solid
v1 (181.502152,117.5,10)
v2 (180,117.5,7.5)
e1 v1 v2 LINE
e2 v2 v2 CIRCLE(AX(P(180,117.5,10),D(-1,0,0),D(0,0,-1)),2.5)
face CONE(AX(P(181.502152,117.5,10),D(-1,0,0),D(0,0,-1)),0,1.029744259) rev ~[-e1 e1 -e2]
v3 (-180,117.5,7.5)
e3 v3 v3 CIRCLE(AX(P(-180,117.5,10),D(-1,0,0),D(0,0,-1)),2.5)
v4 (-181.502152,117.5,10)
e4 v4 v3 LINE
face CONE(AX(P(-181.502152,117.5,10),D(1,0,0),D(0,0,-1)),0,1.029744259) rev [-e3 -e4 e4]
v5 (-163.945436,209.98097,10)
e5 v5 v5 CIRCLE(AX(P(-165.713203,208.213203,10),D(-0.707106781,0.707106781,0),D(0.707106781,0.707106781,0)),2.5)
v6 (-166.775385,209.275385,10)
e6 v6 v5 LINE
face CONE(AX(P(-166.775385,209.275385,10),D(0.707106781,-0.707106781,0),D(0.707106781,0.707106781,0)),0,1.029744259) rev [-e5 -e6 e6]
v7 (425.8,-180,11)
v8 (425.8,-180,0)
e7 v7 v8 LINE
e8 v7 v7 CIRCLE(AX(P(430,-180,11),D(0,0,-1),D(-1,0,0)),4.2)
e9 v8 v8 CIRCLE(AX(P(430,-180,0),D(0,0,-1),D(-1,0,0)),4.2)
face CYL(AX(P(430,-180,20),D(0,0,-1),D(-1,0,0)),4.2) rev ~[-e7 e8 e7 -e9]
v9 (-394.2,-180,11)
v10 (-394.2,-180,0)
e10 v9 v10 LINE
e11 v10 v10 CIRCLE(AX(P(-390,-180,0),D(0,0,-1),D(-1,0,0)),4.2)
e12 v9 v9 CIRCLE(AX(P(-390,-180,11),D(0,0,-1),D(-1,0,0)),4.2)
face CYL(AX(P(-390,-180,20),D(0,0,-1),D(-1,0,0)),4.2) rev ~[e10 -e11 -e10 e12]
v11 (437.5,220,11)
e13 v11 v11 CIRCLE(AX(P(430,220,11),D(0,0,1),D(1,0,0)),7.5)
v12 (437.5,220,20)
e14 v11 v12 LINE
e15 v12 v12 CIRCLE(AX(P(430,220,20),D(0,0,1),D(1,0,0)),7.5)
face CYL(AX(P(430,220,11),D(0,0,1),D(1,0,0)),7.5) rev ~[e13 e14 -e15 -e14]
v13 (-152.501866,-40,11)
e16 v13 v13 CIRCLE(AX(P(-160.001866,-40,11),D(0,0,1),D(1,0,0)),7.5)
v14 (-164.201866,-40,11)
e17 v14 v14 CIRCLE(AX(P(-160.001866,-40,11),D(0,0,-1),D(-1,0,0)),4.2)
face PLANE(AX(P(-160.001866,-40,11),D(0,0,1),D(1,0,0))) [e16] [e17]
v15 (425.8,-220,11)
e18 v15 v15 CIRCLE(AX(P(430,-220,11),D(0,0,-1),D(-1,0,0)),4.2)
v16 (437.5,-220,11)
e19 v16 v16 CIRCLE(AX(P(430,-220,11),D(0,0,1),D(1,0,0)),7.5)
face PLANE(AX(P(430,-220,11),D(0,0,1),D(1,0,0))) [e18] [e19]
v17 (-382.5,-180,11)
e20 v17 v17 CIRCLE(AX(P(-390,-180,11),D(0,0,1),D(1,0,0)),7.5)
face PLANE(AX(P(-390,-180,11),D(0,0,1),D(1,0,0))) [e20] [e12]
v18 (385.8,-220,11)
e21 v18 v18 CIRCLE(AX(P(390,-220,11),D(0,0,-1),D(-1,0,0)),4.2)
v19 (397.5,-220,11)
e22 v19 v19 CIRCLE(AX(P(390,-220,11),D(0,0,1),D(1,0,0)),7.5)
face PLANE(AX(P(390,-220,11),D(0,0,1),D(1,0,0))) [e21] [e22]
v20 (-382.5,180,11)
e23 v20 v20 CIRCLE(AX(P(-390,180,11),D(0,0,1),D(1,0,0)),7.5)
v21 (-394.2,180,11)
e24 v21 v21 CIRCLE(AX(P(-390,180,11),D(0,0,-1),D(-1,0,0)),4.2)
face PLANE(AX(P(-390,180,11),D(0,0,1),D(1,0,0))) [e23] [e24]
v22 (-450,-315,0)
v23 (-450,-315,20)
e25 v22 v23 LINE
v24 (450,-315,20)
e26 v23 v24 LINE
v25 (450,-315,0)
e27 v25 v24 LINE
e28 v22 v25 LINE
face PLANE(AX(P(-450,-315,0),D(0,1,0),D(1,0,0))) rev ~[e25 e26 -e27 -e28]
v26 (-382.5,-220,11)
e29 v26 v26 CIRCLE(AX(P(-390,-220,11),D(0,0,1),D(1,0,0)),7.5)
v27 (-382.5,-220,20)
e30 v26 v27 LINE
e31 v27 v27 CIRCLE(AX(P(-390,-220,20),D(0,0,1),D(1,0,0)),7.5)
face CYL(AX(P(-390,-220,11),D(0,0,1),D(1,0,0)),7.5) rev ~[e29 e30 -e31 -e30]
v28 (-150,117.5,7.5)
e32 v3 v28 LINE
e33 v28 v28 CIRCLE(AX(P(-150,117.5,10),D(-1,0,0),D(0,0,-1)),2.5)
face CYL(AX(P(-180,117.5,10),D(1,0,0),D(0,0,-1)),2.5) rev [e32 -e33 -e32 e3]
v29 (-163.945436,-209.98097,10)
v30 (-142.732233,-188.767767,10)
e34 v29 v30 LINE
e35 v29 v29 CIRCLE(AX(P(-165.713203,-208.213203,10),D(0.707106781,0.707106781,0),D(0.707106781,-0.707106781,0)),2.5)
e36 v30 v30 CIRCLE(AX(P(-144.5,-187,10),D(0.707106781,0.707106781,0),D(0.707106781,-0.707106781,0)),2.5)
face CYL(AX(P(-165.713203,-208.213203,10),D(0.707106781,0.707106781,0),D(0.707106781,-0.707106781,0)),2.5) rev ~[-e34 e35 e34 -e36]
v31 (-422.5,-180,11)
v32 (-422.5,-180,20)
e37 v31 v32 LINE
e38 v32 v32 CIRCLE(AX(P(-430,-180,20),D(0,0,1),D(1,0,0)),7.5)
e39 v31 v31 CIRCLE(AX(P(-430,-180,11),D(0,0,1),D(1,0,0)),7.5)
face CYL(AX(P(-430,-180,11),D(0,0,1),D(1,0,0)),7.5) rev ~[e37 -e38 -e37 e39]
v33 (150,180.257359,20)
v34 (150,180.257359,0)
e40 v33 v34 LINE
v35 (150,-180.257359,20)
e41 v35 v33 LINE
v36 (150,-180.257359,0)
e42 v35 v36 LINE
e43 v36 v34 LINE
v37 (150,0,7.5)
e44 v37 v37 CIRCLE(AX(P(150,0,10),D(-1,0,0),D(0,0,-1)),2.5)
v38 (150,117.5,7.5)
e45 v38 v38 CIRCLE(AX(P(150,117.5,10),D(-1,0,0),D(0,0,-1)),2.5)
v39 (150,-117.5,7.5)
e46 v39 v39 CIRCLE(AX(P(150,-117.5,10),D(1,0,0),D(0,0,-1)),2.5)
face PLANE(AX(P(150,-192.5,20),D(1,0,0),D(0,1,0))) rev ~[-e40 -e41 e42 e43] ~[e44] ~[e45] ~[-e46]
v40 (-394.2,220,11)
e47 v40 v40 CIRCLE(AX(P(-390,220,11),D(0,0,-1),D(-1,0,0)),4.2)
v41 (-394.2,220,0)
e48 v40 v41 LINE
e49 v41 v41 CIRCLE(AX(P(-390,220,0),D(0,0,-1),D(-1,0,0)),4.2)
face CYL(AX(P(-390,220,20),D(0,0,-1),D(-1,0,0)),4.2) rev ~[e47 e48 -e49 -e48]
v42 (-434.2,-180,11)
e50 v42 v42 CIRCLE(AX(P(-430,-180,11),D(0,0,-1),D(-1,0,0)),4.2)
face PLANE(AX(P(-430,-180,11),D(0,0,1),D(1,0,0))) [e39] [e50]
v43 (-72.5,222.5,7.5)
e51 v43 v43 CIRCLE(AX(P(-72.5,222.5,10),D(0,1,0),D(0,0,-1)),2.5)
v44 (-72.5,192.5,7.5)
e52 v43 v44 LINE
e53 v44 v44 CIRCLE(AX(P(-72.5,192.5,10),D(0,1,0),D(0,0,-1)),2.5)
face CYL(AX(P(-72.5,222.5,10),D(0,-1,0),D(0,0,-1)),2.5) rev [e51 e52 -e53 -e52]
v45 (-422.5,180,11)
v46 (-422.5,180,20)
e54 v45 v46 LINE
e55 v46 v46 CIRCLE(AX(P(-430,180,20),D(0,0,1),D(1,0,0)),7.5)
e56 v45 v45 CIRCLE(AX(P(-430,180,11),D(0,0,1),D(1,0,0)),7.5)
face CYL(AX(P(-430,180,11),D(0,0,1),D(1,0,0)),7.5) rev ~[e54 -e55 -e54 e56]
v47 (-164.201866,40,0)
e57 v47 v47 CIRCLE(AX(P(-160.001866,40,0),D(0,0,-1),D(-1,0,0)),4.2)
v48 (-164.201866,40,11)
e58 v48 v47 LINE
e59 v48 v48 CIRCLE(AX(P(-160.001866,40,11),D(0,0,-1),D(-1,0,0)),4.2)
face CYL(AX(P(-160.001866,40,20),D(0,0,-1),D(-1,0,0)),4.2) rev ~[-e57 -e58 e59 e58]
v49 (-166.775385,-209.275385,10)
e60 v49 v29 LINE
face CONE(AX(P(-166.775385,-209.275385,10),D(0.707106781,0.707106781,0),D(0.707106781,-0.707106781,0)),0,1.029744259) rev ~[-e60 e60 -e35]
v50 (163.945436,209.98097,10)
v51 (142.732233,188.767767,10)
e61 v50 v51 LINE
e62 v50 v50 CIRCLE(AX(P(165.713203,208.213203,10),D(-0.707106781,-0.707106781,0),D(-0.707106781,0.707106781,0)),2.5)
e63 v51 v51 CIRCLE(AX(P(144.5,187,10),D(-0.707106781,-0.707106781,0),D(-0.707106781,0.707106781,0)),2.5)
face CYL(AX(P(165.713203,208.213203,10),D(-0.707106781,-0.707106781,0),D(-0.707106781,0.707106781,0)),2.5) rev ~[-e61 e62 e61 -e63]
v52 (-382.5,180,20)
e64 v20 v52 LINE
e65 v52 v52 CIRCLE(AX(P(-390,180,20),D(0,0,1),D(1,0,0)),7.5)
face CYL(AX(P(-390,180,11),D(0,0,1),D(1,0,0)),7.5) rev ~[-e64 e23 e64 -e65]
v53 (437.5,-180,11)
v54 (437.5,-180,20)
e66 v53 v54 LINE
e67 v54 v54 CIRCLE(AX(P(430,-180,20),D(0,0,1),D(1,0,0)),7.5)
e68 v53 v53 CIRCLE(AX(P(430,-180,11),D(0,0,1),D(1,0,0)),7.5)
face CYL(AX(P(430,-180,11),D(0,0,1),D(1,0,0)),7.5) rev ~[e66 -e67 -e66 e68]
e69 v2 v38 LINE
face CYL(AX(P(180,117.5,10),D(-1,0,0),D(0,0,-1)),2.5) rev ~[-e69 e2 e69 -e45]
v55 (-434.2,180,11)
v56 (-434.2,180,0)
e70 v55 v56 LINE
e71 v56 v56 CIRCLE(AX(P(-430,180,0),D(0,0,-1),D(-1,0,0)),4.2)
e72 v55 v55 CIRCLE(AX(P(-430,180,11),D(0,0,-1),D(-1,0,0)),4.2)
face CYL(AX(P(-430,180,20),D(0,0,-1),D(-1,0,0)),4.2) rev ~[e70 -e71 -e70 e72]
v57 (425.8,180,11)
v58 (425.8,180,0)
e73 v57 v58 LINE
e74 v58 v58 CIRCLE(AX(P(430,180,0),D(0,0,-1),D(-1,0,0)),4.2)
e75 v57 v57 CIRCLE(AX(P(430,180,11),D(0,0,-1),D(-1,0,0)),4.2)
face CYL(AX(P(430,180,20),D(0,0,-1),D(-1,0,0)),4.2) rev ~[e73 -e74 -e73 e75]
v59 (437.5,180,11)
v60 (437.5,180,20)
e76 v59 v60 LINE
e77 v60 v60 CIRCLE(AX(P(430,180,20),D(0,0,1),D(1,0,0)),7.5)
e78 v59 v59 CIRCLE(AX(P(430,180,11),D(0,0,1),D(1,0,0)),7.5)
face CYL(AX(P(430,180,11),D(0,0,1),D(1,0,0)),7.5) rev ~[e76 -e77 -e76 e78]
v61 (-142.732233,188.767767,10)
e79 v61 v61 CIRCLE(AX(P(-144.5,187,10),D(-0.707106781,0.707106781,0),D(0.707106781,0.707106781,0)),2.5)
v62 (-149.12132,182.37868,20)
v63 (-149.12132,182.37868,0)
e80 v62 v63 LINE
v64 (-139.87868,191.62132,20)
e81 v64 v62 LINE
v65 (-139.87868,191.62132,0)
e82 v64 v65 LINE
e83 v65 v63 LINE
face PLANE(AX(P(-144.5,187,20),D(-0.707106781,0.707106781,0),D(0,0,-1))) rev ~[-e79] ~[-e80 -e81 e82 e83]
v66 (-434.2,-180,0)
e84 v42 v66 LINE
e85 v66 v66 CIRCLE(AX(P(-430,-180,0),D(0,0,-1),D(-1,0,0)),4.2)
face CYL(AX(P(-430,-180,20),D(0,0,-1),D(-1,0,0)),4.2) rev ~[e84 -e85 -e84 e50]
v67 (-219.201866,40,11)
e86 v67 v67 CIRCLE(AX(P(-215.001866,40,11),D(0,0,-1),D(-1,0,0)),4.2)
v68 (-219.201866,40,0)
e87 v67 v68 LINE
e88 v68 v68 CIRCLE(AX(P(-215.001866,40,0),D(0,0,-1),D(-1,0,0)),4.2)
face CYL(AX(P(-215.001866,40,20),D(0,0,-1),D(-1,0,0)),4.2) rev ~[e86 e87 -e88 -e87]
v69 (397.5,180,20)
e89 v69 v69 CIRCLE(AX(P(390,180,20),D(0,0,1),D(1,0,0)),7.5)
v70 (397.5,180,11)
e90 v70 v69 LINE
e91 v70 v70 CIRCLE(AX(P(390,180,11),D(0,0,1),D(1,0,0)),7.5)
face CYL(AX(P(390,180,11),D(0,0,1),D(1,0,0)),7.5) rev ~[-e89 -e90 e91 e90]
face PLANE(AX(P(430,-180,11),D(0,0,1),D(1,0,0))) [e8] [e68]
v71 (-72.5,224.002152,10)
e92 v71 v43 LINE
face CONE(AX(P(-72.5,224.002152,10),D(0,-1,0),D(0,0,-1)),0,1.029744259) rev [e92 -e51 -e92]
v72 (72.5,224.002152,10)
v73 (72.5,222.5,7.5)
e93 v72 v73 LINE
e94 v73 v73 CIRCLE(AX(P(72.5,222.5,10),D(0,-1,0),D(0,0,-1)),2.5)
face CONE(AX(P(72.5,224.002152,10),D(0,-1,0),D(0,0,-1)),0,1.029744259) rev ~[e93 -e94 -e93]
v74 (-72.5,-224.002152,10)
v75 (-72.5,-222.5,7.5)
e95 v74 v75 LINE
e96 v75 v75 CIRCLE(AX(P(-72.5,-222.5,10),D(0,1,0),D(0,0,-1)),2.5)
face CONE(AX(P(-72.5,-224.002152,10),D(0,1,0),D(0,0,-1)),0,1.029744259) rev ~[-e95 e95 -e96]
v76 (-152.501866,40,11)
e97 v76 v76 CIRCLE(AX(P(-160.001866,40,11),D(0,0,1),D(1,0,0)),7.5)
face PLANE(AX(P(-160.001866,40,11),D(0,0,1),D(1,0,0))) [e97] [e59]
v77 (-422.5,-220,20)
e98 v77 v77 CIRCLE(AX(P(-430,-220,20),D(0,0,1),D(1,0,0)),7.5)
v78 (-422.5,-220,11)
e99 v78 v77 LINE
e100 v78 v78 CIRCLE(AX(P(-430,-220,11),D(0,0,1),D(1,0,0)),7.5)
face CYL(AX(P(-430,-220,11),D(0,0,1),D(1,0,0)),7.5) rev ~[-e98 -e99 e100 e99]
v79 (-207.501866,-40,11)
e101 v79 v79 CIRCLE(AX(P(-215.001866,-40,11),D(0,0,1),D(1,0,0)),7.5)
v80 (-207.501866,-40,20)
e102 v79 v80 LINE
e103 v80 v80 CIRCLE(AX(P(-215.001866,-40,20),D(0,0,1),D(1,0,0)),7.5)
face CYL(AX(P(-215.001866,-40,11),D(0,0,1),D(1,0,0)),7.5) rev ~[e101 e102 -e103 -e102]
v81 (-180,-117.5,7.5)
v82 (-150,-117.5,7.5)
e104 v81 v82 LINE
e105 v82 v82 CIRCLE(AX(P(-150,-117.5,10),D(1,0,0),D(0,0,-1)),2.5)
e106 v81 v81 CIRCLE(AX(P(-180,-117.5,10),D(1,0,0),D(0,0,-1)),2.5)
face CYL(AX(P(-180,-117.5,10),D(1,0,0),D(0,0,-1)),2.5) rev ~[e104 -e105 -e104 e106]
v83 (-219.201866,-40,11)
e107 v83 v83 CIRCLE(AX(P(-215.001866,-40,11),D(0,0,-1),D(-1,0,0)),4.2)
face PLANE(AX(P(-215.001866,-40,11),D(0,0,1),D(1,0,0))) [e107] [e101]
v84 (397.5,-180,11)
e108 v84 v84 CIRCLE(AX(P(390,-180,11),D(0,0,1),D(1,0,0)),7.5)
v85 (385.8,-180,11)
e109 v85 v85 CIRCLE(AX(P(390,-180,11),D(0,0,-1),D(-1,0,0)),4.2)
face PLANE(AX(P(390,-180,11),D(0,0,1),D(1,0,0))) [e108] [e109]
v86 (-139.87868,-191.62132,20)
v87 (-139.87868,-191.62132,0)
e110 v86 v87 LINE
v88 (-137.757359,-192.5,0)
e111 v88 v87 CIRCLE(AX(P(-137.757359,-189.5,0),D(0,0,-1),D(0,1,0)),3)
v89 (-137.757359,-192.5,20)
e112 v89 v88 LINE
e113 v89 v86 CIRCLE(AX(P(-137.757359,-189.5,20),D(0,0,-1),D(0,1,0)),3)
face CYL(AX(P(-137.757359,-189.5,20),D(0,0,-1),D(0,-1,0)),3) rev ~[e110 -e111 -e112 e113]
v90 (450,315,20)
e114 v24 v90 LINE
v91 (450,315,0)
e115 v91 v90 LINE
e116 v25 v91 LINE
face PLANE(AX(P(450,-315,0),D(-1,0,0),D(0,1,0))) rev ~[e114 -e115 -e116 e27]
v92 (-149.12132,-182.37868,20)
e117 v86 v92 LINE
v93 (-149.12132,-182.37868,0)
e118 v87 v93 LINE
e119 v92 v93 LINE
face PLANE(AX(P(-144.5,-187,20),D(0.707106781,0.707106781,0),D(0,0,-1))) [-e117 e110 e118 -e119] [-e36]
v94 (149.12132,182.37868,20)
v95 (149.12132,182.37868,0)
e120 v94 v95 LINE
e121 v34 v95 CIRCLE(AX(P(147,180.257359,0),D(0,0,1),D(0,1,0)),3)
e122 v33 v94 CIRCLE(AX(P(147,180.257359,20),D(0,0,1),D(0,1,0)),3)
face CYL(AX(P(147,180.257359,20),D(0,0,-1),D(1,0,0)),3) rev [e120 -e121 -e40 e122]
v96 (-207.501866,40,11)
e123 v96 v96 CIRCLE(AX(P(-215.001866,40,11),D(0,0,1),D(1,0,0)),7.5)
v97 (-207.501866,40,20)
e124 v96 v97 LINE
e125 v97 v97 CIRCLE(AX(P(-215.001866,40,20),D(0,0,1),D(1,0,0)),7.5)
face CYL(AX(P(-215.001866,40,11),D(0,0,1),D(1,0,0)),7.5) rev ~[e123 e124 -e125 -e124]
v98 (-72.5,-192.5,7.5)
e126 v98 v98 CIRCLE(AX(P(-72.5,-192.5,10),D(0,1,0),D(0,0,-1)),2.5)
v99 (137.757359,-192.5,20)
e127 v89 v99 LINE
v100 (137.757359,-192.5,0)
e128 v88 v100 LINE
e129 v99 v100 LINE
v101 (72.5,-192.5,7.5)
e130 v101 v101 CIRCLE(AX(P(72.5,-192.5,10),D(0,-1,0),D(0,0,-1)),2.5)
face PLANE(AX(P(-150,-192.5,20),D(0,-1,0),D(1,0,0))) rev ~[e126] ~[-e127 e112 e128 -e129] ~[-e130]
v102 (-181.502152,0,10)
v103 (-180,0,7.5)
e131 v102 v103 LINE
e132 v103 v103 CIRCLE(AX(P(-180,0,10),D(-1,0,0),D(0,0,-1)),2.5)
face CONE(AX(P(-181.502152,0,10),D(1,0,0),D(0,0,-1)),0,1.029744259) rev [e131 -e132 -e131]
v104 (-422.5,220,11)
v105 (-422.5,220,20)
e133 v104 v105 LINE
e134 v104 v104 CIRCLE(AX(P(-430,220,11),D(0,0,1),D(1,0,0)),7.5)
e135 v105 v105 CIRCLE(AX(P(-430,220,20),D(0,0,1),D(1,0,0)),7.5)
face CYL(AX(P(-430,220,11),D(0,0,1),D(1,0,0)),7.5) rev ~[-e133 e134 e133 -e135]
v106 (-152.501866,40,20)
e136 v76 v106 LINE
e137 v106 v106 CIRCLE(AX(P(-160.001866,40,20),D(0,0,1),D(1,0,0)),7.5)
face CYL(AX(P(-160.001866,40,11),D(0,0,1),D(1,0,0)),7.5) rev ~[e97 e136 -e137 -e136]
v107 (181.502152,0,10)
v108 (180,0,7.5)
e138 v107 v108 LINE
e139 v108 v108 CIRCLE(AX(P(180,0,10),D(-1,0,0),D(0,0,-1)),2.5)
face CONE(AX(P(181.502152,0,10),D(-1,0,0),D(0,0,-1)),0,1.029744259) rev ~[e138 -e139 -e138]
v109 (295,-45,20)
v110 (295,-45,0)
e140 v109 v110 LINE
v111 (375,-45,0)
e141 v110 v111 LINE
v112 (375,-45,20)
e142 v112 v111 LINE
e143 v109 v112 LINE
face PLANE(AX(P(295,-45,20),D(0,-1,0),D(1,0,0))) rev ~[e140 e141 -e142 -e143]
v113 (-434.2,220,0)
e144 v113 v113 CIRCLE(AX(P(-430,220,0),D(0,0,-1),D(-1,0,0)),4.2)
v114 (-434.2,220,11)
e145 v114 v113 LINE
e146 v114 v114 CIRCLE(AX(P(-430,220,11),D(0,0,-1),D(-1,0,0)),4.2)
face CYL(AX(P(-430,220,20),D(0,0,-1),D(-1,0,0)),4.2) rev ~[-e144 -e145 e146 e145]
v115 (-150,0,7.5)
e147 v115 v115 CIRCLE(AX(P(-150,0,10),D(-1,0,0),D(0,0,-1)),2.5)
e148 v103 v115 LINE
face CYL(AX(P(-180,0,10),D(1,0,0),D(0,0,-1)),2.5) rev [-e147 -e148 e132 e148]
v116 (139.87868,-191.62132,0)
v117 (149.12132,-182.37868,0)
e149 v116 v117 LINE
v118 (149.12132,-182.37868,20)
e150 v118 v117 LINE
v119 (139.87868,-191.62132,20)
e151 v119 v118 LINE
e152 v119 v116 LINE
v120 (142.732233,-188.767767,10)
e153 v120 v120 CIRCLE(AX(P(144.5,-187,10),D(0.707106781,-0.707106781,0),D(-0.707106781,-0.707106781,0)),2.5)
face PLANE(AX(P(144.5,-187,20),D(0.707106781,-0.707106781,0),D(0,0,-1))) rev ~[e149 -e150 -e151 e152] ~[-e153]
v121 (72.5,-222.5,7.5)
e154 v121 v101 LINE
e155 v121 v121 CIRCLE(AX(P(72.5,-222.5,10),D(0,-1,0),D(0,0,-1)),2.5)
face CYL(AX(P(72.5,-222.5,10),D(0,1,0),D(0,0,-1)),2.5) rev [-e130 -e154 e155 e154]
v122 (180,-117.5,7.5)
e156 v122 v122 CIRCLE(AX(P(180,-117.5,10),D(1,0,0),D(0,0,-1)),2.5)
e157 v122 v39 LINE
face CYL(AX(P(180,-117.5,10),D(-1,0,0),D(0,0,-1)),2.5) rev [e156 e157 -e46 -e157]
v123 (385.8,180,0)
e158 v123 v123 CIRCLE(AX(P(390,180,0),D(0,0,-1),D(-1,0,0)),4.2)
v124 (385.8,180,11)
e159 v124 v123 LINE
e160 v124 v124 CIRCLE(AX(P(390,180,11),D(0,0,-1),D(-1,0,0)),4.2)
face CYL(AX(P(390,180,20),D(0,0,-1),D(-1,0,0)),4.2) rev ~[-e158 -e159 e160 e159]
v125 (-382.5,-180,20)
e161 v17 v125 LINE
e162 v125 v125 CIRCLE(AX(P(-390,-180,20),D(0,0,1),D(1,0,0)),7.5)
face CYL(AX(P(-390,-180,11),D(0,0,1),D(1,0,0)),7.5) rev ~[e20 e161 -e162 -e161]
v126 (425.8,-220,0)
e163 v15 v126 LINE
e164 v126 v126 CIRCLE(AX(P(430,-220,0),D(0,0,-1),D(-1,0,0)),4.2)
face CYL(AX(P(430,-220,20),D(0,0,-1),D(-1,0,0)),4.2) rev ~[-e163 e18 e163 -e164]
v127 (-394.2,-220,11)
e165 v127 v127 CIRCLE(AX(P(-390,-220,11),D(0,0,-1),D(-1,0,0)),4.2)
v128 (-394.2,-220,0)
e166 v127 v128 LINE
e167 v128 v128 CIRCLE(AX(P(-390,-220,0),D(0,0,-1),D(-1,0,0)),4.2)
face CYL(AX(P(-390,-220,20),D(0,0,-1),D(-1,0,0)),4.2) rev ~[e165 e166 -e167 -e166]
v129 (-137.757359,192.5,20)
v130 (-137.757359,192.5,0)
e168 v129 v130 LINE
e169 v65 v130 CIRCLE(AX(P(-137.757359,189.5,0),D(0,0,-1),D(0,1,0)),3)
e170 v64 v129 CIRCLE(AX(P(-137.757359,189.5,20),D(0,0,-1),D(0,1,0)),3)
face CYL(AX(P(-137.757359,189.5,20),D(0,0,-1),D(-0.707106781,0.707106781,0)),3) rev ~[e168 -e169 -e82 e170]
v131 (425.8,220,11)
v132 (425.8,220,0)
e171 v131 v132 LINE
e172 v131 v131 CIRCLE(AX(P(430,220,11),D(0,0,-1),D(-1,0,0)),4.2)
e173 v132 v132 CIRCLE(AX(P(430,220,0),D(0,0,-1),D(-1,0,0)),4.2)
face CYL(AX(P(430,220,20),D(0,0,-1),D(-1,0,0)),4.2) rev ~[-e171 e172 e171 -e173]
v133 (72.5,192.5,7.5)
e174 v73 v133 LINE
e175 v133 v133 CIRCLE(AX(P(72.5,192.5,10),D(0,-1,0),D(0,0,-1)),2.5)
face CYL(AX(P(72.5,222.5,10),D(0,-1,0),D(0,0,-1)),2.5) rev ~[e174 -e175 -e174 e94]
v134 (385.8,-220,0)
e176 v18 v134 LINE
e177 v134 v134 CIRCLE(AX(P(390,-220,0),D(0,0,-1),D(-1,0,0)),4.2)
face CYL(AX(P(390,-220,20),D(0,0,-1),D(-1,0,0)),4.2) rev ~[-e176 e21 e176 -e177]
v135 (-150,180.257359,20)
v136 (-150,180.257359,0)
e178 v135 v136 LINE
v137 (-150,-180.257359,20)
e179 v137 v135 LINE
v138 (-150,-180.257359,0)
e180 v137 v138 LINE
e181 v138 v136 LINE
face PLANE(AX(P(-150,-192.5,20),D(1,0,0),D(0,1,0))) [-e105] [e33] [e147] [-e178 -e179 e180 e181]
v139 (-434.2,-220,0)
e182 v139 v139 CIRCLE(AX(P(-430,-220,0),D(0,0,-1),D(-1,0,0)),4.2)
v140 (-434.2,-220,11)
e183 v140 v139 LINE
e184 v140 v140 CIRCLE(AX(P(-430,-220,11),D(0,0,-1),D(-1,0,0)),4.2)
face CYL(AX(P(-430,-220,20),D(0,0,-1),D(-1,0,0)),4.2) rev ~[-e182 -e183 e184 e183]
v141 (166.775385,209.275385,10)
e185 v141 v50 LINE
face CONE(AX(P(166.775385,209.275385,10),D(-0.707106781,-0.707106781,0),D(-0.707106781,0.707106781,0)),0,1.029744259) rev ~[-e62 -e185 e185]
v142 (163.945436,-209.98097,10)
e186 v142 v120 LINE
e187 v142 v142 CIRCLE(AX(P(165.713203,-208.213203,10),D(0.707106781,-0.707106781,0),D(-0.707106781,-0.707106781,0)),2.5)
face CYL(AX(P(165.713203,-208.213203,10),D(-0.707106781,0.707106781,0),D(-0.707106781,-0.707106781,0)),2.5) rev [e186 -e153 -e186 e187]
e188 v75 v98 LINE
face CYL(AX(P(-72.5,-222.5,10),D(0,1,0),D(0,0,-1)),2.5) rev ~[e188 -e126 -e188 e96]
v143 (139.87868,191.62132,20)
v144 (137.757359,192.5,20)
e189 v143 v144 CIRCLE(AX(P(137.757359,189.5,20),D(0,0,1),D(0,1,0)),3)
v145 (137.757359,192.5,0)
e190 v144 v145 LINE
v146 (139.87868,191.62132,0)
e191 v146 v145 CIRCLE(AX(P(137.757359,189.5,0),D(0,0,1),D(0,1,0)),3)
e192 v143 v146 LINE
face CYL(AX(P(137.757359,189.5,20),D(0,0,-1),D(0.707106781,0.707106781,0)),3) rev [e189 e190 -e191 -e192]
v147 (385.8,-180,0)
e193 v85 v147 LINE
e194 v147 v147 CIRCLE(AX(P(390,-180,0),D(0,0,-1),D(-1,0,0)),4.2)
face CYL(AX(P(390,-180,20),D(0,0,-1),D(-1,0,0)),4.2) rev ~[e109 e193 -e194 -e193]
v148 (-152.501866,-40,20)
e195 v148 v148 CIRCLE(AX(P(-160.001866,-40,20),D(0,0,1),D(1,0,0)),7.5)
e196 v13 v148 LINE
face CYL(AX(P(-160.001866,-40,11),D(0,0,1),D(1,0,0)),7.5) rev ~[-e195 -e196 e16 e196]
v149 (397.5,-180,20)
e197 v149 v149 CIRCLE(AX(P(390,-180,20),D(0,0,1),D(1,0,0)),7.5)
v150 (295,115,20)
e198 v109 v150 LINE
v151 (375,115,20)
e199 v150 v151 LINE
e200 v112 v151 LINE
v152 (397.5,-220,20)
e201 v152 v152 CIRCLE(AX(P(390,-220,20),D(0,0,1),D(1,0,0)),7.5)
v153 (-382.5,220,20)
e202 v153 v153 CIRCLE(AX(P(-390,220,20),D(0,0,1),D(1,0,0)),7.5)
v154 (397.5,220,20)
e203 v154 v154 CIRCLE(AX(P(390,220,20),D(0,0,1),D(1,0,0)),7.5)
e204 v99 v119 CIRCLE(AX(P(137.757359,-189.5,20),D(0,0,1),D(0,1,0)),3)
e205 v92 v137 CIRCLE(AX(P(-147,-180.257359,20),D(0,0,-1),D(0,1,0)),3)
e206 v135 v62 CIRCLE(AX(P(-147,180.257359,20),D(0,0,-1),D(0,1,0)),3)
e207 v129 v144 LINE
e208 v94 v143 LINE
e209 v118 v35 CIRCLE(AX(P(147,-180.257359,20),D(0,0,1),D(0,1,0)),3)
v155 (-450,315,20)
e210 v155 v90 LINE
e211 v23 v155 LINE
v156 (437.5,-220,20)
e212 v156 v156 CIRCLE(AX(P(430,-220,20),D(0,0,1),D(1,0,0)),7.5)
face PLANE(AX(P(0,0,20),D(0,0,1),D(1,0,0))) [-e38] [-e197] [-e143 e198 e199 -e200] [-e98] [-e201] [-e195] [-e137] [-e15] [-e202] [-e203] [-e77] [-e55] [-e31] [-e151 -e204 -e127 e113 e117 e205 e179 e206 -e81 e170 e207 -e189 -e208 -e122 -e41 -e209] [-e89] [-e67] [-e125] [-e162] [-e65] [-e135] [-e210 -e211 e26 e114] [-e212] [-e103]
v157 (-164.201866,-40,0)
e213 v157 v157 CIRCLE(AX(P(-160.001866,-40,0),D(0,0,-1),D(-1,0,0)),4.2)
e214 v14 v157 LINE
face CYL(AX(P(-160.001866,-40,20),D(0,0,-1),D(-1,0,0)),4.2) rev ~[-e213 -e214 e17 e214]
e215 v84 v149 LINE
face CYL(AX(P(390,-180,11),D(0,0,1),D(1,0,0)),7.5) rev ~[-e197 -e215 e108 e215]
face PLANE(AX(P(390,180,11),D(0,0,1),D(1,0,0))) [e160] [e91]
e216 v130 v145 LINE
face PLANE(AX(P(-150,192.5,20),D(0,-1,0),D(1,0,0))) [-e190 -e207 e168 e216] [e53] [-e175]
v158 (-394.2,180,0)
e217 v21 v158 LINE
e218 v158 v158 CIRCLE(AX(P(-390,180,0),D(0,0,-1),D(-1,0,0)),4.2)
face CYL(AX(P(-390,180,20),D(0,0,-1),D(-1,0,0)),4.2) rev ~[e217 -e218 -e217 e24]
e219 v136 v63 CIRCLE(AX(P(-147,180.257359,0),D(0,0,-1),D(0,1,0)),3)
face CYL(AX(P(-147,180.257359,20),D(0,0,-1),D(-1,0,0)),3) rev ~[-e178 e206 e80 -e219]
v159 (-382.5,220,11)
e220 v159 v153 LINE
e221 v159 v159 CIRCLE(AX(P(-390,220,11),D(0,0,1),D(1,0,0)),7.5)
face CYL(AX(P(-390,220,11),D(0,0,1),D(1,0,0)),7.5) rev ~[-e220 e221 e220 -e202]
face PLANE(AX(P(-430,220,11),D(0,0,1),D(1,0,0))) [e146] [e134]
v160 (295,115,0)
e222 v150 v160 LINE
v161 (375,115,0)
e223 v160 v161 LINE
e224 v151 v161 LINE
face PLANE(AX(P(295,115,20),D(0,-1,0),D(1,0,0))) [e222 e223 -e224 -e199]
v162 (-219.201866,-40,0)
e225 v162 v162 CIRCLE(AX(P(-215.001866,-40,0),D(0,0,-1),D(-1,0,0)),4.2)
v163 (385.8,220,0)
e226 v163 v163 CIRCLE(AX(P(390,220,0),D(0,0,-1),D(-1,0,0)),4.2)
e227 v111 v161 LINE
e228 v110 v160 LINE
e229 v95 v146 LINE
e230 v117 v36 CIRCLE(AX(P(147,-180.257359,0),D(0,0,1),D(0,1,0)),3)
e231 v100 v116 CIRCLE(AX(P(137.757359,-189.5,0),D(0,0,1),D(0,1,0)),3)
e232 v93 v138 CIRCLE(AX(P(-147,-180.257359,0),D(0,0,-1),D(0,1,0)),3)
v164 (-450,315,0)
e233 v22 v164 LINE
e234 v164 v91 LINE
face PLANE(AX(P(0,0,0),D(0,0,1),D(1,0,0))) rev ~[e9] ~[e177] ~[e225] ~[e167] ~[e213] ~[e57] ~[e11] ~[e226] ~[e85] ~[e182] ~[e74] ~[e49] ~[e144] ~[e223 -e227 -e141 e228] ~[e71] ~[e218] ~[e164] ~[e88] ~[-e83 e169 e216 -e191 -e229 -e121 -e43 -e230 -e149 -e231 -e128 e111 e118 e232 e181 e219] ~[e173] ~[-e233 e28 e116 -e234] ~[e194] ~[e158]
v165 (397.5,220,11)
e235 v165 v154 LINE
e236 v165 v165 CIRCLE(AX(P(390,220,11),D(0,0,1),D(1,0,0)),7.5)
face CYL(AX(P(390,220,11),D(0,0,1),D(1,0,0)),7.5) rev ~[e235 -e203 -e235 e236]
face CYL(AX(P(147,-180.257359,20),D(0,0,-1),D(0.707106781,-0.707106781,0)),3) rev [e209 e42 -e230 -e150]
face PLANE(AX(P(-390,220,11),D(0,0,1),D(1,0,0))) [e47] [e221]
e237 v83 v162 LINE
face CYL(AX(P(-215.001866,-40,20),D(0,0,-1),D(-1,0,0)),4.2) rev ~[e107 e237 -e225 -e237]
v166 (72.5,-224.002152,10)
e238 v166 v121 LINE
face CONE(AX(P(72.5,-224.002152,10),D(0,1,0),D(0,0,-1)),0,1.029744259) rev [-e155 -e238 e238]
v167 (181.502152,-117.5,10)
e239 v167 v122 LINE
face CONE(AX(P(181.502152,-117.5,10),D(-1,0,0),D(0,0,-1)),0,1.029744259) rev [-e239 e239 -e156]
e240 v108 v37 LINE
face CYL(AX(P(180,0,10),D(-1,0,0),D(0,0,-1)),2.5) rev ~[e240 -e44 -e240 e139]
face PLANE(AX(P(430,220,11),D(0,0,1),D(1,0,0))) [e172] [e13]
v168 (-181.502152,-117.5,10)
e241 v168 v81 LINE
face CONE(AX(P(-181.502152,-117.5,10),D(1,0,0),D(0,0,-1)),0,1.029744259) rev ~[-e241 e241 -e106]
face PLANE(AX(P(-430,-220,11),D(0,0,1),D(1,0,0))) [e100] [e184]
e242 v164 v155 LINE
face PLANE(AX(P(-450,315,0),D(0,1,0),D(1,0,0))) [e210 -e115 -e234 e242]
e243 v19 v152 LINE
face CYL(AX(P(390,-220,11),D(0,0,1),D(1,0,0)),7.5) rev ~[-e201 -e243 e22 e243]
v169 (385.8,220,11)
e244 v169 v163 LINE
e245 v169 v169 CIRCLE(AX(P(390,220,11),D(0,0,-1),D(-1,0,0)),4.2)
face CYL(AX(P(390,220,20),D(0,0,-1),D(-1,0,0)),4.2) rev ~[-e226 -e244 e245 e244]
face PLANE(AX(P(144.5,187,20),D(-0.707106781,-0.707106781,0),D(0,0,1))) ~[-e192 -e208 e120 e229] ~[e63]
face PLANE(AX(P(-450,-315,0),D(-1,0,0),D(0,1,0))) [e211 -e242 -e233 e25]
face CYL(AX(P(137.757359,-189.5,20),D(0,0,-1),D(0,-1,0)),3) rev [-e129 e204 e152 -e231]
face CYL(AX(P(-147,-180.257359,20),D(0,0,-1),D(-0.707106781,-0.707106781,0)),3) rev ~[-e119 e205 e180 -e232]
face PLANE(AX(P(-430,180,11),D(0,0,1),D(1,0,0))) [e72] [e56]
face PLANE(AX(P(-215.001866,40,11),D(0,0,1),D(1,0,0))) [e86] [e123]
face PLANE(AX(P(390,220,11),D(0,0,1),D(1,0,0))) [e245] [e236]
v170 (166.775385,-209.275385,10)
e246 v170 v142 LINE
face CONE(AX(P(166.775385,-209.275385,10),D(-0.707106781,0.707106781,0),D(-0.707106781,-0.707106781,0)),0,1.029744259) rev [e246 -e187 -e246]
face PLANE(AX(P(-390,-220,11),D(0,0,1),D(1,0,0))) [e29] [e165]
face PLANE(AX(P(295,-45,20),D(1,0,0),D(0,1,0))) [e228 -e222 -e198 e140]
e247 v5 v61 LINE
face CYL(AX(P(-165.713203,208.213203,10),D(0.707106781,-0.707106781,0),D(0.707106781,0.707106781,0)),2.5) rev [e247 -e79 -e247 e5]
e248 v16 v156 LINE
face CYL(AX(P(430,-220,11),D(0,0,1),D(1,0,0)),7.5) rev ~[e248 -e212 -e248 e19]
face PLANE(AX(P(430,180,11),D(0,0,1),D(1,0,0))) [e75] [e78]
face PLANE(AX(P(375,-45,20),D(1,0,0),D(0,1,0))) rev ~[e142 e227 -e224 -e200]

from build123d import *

# Parameters (mm, degrees)
SKETCH1_W                                            = 900
SKETCH1_H                                            = 630
BOSS_EXTRUDE1_DEPTH                                  = 20
SKETCH2_W                                            = 300
SKETCH2_H                                            = 385
CUT_EXTRUDE1_DEPTH                                   = 550.65898519
CHAMFER1_SIZE                                        = 11
FILLET1_R                                            = 3
M6_TAPPED_HOLE2_AT_2_COUNT                           = 2
M6_TAPPED_HOLE2_AT_2_PITCH                           = 117.5
CBORE_FOR_M8_HEXAGON_SOCKET_HEAD_CAP_SCR_D           = 8.4
CBORE_FOR_M8_HEXAGON_SOCKET_HEAD_CAP_SCR_CBORE_D     = 15
CBORE_FOR_M8_HEXAGON_SOCKET_HEAD_CAP_SCR_CBORE_DEPTH = 9
SKETCH13_W                                           = 80
SKETCH13_H                                           = 160
CUT_EXTRUDE3_DEPTH                                   = 550.65898519


with BuildPart() as part:
    # Sketch1 → Boss-Extrude1 (new body)
    with BuildSketch(Plane.XY):
        Rectangle(SKETCH1_W, SKETCH1_H)
    extrude(amount=BOSS_EXTRUDE1_DEPTH)

    # Sketch2 → Cut-Extrude1 (cut, through all)
    with BuildSketch(Plane.XY.offset(20)):
        Rectangle(SKETCH2_W, SKETCH2_H)
    extrude(amount=-CUT_EXTRUDE1_DEPTH, mode=Mode.SUBTRACT)

    # Chamfer1
    chamfer1_edges = [part.edges().sort_by_distance(p)[0] for p in [
        (-150, -192.5, 10),
        (-150, 192.5, 10),
        (150, 192.5, 10),
        (150, -192.5, 10),
    ]]
    chamfer(chamfer1_edges, length=CHAMFER1_SIZE)

    # Sketch4 → M6 Tapped Hole1 (revolve, cut)
    with BuildSketch(Plane(origin=(-144.5, 187, 10), x_dir=(0.7071067811865441, 0.7071067811865509, 0), z_dir=(0, 0, 1))):
        Polygon((0, 0), (0, 31.502151548), (2.5, 30), (2.5, 0), align=None)
    m6_tapped_hole1 = revolve(axis=Axis((-140.009871939, 182.509871939, 10), (-0.7071067811865509, 0.7071067811865442, 0)), mode=Mode.SUBTRACT)

    # Fillet1
    fillet1_edges = [part.edges().sort_by_distance(p)[0] for p in [
        (139, -192.5, 10),
        (-139, -192.5, 10),
        (-150, 181.5, 10),
        (-150, -181.5, 10),
        (150, 181.5, 10),
        (150, -181.5, 10),
        (-139, 192.5, 10),
        (139, 192.5, 10),
    ]]
    fillet(fillet1_edges, radius=FILLET1_R)

    # Sketch6 → M6 Tapped Hole2 (revolve, cut)
    with BuildSketch(Plane(origin=(-150, 0, 10), x_dir=(0, 0, -1), z_dir=(0, 1, 0))):
        Polygon((0, 0), (0, 31.502151548), (2.5, 30), (2.5, 0), align=None)
    m6_tapped_hole2 = revolve(axis=Axis((-143.65, 0, 10), (-1, 0, 0)), mode=Mode.SUBTRACT)

    # M6 Tapped Hole2 at 2: M6 Tapped Hole2 ×2
    with Locations(*[(0, i * M6_TAPPED_HOLE2_AT_2_PITCH, 0) for i in range(1, M6_TAPPED_HOLE2_AT_2_COUNT)]):
        add(m6_tapped_hole2, mode=Mode.SUBTRACT)

    # Sketch8 → M6 Tapped Hole3 (revolve, cut)
    with BuildSketch(Plane(origin=(-72.5, 192.5, 10), x_dir=(0, 0, -1), z_dir=(1, 0, 0))):
        Polygon((0, 0), (0, 31.502151548), (2.5, 30), (2.5, 0), align=None)
    m6_tapped_hole3 = revolve(axis=Axis((-72.5, 186.15, 10), (0, 1, 0)), mode=Mode.SUBTRACT)

    # Mirror1: M6 Tapped Hole1, M6 Tapped Hole2, M6 Tapped Hole3 across plane
    add(m6_tapped_hole1.mirror(Plane(origin=(0, 0, 0), x_dir=(0, 0, 1), z_dir=(1, 0, 0))), mode=Mode.SUBTRACT)
    add(m6_tapped_hole2.mirror(Plane(origin=(0, 0, 0), x_dir=(0, 0, 1), z_dir=(1, 0, 0))), mode=Mode.SUBTRACT)
    add(m6_tapped_hole3.mirror(Plane(origin=(0, 0, 0), x_dir=(0, 0, 1), z_dir=(1, 0, 0))), mode=Mode.SUBTRACT)

    # Mirror1 copy 1 sketch → Mirror1 copy 1 (revolve, cut)
    with BuildSketch(Plane(origin=(150, 117.5, 10), x_dir=(0, 0, -1), z_dir=(0, 1, 0))):
        Polygon((0, 0), (0, -31.502151548), (2.5, -30), (2.5, 0), align=None)
    revolve(axis=Axis((143.65, 117.5, 10), (-1, 0, 0)), mode=Mode.SUBTRACT)

    # Mirror1 at the second plane: M6 Tapped Hole1, M6 Tapped Hole2, M6 Tapped Hole3 across plane
    add(m6_tapped_hole1.mirror(Plane.ZX), mode=Mode.SUBTRACT)
    add(m6_tapped_hole2.mirror(Plane.ZX), mode=Mode.SUBTRACT)
    add(m6_tapped_hole3.mirror(Plane.ZX), mode=Mode.SUBTRACT)

    # Mirror1 at the second plane copy 1 sketc → Mirror1 at the second plane copy 1 (revolve, cut)
    with BuildSketch(Plane(origin=(-150, -117.5, 10), x_dir=(0, 0, -1), z_dir=(0, -1, 0))):
        Polygon((0, 0), (0, -31.502151548), (2.5, -30), (2.5, 0), align=None)
    revolve(axis=Axis((-143.65, -117.5, 10), (1, 0, 0)), mode=Mode.SUBTRACT)

    # Mirror1 at the second plane copy 2 sketc → Mirror1 at the second plane copy 2 (revolve, cut)
    with BuildSketch(Plane(origin=(144.5, -187, 10), x_dir=(-0.7071067811865441, -0.7071067811865509, 0), z_dir=(0, 0, 1))):
        Polygon((0, 0), (0, 31.502151548), (2.5, 30), (2.5, 0), align=None)
    revolve(axis=Axis((140.009871939, -182.509871939, 10), (0.7071067811865509, -0.7071067811865442, 0)), mode=Mode.SUBTRACT)

    # Mirror1 at the second plane copy 3 sketc → Mirror1 at the second plane copy 3 (revolve, cut)
    with BuildSketch(Plane(origin=(150, 0, 10), x_dir=(0, 0, -1), z_dir=(0, -1, 0))):
        Polygon((0, 0), (0, 31.502151548), (2.5, 30), (2.5, 0), align=None)
    revolve(axis=Axis((143.65, 0, 10), (1, 0, 0)), mode=Mode.SUBTRACT)

    # Mirror1 at the second plane copy 4 sketc → Mirror1 at the second plane copy 4 (revolve, cut)
    with BuildSketch(Plane(origin=(72.5, -192.5, 10), x_dir=(0, 0, -1), z_dir=(-1, 0, 0))):
        Polygon((0, 0), (0, 31.502151548), (2.5, 30), (2.5, 0), align=None)
    revolve(axis=Axis((72.5, -186.15, 10), (0, -1, 0)), mode=Mode.SUBTRACT)

    # Mirror1 at the second plane copy 5 sketc → Mirror1 at the second plane copy 5 (revolve, cut)
    with BuildSketch(Plane(origin=(150, -117.5, 10), x_dir=(0, 0, -1), z_dir=(0, -1, 0))):
        Polygon((0, 0), (0, 31.502151548), (2.5, 30), (2.5, 0), align=None)
    revolve(axis=Axis((143.65, -117.5, 10), (1, 0, 0)), mode=Mode.SUBTRACT)

    # CBORE for M8 Hexagon socket head cap screws1 (through all)
    with Locations(Plane.XY.offset(20)):
        with Locations((-430, 220), (-390, 220), (-430, 180), (-390, 180), (-215.00186624, 40), (-160.00186624, 40), (390, 220), (430, 220), (390, 180), (430, 180), (430, -180), (390, -180), (430, -220), (390, -220), (-160.00186624, -40), (-215.00186624, -40), (-390, -180), (-430, -180), (-390, -220), (-430, -220)):
            CounterBoreHole(CBORE_FOR_M8_HEXAGON_SOCKET_HEAD_CAP_SCR_D / 2, CBORE_FOR_M8_HEXAGON_SOCKET_HEAD_CAP_SCR_CBORE_D / 2, CBORE_FOR_M8_HEXAGON_SOCKET_HEAD_CAP_SCR_CBORE_DEPTH)

    # Sketch13 → Cut-Extrude3 (cut, through all)
    with BuildSketch(Plane.XY.offset(20)):
        with Locations((335, 35)):
            Rectangle(SKETCH13_W, SKETCH13_H)
    extrude(amount=-CUT_EXTRUDE3_DEPTH, mode=Mode.SUBTRACT)


solid = part.part
